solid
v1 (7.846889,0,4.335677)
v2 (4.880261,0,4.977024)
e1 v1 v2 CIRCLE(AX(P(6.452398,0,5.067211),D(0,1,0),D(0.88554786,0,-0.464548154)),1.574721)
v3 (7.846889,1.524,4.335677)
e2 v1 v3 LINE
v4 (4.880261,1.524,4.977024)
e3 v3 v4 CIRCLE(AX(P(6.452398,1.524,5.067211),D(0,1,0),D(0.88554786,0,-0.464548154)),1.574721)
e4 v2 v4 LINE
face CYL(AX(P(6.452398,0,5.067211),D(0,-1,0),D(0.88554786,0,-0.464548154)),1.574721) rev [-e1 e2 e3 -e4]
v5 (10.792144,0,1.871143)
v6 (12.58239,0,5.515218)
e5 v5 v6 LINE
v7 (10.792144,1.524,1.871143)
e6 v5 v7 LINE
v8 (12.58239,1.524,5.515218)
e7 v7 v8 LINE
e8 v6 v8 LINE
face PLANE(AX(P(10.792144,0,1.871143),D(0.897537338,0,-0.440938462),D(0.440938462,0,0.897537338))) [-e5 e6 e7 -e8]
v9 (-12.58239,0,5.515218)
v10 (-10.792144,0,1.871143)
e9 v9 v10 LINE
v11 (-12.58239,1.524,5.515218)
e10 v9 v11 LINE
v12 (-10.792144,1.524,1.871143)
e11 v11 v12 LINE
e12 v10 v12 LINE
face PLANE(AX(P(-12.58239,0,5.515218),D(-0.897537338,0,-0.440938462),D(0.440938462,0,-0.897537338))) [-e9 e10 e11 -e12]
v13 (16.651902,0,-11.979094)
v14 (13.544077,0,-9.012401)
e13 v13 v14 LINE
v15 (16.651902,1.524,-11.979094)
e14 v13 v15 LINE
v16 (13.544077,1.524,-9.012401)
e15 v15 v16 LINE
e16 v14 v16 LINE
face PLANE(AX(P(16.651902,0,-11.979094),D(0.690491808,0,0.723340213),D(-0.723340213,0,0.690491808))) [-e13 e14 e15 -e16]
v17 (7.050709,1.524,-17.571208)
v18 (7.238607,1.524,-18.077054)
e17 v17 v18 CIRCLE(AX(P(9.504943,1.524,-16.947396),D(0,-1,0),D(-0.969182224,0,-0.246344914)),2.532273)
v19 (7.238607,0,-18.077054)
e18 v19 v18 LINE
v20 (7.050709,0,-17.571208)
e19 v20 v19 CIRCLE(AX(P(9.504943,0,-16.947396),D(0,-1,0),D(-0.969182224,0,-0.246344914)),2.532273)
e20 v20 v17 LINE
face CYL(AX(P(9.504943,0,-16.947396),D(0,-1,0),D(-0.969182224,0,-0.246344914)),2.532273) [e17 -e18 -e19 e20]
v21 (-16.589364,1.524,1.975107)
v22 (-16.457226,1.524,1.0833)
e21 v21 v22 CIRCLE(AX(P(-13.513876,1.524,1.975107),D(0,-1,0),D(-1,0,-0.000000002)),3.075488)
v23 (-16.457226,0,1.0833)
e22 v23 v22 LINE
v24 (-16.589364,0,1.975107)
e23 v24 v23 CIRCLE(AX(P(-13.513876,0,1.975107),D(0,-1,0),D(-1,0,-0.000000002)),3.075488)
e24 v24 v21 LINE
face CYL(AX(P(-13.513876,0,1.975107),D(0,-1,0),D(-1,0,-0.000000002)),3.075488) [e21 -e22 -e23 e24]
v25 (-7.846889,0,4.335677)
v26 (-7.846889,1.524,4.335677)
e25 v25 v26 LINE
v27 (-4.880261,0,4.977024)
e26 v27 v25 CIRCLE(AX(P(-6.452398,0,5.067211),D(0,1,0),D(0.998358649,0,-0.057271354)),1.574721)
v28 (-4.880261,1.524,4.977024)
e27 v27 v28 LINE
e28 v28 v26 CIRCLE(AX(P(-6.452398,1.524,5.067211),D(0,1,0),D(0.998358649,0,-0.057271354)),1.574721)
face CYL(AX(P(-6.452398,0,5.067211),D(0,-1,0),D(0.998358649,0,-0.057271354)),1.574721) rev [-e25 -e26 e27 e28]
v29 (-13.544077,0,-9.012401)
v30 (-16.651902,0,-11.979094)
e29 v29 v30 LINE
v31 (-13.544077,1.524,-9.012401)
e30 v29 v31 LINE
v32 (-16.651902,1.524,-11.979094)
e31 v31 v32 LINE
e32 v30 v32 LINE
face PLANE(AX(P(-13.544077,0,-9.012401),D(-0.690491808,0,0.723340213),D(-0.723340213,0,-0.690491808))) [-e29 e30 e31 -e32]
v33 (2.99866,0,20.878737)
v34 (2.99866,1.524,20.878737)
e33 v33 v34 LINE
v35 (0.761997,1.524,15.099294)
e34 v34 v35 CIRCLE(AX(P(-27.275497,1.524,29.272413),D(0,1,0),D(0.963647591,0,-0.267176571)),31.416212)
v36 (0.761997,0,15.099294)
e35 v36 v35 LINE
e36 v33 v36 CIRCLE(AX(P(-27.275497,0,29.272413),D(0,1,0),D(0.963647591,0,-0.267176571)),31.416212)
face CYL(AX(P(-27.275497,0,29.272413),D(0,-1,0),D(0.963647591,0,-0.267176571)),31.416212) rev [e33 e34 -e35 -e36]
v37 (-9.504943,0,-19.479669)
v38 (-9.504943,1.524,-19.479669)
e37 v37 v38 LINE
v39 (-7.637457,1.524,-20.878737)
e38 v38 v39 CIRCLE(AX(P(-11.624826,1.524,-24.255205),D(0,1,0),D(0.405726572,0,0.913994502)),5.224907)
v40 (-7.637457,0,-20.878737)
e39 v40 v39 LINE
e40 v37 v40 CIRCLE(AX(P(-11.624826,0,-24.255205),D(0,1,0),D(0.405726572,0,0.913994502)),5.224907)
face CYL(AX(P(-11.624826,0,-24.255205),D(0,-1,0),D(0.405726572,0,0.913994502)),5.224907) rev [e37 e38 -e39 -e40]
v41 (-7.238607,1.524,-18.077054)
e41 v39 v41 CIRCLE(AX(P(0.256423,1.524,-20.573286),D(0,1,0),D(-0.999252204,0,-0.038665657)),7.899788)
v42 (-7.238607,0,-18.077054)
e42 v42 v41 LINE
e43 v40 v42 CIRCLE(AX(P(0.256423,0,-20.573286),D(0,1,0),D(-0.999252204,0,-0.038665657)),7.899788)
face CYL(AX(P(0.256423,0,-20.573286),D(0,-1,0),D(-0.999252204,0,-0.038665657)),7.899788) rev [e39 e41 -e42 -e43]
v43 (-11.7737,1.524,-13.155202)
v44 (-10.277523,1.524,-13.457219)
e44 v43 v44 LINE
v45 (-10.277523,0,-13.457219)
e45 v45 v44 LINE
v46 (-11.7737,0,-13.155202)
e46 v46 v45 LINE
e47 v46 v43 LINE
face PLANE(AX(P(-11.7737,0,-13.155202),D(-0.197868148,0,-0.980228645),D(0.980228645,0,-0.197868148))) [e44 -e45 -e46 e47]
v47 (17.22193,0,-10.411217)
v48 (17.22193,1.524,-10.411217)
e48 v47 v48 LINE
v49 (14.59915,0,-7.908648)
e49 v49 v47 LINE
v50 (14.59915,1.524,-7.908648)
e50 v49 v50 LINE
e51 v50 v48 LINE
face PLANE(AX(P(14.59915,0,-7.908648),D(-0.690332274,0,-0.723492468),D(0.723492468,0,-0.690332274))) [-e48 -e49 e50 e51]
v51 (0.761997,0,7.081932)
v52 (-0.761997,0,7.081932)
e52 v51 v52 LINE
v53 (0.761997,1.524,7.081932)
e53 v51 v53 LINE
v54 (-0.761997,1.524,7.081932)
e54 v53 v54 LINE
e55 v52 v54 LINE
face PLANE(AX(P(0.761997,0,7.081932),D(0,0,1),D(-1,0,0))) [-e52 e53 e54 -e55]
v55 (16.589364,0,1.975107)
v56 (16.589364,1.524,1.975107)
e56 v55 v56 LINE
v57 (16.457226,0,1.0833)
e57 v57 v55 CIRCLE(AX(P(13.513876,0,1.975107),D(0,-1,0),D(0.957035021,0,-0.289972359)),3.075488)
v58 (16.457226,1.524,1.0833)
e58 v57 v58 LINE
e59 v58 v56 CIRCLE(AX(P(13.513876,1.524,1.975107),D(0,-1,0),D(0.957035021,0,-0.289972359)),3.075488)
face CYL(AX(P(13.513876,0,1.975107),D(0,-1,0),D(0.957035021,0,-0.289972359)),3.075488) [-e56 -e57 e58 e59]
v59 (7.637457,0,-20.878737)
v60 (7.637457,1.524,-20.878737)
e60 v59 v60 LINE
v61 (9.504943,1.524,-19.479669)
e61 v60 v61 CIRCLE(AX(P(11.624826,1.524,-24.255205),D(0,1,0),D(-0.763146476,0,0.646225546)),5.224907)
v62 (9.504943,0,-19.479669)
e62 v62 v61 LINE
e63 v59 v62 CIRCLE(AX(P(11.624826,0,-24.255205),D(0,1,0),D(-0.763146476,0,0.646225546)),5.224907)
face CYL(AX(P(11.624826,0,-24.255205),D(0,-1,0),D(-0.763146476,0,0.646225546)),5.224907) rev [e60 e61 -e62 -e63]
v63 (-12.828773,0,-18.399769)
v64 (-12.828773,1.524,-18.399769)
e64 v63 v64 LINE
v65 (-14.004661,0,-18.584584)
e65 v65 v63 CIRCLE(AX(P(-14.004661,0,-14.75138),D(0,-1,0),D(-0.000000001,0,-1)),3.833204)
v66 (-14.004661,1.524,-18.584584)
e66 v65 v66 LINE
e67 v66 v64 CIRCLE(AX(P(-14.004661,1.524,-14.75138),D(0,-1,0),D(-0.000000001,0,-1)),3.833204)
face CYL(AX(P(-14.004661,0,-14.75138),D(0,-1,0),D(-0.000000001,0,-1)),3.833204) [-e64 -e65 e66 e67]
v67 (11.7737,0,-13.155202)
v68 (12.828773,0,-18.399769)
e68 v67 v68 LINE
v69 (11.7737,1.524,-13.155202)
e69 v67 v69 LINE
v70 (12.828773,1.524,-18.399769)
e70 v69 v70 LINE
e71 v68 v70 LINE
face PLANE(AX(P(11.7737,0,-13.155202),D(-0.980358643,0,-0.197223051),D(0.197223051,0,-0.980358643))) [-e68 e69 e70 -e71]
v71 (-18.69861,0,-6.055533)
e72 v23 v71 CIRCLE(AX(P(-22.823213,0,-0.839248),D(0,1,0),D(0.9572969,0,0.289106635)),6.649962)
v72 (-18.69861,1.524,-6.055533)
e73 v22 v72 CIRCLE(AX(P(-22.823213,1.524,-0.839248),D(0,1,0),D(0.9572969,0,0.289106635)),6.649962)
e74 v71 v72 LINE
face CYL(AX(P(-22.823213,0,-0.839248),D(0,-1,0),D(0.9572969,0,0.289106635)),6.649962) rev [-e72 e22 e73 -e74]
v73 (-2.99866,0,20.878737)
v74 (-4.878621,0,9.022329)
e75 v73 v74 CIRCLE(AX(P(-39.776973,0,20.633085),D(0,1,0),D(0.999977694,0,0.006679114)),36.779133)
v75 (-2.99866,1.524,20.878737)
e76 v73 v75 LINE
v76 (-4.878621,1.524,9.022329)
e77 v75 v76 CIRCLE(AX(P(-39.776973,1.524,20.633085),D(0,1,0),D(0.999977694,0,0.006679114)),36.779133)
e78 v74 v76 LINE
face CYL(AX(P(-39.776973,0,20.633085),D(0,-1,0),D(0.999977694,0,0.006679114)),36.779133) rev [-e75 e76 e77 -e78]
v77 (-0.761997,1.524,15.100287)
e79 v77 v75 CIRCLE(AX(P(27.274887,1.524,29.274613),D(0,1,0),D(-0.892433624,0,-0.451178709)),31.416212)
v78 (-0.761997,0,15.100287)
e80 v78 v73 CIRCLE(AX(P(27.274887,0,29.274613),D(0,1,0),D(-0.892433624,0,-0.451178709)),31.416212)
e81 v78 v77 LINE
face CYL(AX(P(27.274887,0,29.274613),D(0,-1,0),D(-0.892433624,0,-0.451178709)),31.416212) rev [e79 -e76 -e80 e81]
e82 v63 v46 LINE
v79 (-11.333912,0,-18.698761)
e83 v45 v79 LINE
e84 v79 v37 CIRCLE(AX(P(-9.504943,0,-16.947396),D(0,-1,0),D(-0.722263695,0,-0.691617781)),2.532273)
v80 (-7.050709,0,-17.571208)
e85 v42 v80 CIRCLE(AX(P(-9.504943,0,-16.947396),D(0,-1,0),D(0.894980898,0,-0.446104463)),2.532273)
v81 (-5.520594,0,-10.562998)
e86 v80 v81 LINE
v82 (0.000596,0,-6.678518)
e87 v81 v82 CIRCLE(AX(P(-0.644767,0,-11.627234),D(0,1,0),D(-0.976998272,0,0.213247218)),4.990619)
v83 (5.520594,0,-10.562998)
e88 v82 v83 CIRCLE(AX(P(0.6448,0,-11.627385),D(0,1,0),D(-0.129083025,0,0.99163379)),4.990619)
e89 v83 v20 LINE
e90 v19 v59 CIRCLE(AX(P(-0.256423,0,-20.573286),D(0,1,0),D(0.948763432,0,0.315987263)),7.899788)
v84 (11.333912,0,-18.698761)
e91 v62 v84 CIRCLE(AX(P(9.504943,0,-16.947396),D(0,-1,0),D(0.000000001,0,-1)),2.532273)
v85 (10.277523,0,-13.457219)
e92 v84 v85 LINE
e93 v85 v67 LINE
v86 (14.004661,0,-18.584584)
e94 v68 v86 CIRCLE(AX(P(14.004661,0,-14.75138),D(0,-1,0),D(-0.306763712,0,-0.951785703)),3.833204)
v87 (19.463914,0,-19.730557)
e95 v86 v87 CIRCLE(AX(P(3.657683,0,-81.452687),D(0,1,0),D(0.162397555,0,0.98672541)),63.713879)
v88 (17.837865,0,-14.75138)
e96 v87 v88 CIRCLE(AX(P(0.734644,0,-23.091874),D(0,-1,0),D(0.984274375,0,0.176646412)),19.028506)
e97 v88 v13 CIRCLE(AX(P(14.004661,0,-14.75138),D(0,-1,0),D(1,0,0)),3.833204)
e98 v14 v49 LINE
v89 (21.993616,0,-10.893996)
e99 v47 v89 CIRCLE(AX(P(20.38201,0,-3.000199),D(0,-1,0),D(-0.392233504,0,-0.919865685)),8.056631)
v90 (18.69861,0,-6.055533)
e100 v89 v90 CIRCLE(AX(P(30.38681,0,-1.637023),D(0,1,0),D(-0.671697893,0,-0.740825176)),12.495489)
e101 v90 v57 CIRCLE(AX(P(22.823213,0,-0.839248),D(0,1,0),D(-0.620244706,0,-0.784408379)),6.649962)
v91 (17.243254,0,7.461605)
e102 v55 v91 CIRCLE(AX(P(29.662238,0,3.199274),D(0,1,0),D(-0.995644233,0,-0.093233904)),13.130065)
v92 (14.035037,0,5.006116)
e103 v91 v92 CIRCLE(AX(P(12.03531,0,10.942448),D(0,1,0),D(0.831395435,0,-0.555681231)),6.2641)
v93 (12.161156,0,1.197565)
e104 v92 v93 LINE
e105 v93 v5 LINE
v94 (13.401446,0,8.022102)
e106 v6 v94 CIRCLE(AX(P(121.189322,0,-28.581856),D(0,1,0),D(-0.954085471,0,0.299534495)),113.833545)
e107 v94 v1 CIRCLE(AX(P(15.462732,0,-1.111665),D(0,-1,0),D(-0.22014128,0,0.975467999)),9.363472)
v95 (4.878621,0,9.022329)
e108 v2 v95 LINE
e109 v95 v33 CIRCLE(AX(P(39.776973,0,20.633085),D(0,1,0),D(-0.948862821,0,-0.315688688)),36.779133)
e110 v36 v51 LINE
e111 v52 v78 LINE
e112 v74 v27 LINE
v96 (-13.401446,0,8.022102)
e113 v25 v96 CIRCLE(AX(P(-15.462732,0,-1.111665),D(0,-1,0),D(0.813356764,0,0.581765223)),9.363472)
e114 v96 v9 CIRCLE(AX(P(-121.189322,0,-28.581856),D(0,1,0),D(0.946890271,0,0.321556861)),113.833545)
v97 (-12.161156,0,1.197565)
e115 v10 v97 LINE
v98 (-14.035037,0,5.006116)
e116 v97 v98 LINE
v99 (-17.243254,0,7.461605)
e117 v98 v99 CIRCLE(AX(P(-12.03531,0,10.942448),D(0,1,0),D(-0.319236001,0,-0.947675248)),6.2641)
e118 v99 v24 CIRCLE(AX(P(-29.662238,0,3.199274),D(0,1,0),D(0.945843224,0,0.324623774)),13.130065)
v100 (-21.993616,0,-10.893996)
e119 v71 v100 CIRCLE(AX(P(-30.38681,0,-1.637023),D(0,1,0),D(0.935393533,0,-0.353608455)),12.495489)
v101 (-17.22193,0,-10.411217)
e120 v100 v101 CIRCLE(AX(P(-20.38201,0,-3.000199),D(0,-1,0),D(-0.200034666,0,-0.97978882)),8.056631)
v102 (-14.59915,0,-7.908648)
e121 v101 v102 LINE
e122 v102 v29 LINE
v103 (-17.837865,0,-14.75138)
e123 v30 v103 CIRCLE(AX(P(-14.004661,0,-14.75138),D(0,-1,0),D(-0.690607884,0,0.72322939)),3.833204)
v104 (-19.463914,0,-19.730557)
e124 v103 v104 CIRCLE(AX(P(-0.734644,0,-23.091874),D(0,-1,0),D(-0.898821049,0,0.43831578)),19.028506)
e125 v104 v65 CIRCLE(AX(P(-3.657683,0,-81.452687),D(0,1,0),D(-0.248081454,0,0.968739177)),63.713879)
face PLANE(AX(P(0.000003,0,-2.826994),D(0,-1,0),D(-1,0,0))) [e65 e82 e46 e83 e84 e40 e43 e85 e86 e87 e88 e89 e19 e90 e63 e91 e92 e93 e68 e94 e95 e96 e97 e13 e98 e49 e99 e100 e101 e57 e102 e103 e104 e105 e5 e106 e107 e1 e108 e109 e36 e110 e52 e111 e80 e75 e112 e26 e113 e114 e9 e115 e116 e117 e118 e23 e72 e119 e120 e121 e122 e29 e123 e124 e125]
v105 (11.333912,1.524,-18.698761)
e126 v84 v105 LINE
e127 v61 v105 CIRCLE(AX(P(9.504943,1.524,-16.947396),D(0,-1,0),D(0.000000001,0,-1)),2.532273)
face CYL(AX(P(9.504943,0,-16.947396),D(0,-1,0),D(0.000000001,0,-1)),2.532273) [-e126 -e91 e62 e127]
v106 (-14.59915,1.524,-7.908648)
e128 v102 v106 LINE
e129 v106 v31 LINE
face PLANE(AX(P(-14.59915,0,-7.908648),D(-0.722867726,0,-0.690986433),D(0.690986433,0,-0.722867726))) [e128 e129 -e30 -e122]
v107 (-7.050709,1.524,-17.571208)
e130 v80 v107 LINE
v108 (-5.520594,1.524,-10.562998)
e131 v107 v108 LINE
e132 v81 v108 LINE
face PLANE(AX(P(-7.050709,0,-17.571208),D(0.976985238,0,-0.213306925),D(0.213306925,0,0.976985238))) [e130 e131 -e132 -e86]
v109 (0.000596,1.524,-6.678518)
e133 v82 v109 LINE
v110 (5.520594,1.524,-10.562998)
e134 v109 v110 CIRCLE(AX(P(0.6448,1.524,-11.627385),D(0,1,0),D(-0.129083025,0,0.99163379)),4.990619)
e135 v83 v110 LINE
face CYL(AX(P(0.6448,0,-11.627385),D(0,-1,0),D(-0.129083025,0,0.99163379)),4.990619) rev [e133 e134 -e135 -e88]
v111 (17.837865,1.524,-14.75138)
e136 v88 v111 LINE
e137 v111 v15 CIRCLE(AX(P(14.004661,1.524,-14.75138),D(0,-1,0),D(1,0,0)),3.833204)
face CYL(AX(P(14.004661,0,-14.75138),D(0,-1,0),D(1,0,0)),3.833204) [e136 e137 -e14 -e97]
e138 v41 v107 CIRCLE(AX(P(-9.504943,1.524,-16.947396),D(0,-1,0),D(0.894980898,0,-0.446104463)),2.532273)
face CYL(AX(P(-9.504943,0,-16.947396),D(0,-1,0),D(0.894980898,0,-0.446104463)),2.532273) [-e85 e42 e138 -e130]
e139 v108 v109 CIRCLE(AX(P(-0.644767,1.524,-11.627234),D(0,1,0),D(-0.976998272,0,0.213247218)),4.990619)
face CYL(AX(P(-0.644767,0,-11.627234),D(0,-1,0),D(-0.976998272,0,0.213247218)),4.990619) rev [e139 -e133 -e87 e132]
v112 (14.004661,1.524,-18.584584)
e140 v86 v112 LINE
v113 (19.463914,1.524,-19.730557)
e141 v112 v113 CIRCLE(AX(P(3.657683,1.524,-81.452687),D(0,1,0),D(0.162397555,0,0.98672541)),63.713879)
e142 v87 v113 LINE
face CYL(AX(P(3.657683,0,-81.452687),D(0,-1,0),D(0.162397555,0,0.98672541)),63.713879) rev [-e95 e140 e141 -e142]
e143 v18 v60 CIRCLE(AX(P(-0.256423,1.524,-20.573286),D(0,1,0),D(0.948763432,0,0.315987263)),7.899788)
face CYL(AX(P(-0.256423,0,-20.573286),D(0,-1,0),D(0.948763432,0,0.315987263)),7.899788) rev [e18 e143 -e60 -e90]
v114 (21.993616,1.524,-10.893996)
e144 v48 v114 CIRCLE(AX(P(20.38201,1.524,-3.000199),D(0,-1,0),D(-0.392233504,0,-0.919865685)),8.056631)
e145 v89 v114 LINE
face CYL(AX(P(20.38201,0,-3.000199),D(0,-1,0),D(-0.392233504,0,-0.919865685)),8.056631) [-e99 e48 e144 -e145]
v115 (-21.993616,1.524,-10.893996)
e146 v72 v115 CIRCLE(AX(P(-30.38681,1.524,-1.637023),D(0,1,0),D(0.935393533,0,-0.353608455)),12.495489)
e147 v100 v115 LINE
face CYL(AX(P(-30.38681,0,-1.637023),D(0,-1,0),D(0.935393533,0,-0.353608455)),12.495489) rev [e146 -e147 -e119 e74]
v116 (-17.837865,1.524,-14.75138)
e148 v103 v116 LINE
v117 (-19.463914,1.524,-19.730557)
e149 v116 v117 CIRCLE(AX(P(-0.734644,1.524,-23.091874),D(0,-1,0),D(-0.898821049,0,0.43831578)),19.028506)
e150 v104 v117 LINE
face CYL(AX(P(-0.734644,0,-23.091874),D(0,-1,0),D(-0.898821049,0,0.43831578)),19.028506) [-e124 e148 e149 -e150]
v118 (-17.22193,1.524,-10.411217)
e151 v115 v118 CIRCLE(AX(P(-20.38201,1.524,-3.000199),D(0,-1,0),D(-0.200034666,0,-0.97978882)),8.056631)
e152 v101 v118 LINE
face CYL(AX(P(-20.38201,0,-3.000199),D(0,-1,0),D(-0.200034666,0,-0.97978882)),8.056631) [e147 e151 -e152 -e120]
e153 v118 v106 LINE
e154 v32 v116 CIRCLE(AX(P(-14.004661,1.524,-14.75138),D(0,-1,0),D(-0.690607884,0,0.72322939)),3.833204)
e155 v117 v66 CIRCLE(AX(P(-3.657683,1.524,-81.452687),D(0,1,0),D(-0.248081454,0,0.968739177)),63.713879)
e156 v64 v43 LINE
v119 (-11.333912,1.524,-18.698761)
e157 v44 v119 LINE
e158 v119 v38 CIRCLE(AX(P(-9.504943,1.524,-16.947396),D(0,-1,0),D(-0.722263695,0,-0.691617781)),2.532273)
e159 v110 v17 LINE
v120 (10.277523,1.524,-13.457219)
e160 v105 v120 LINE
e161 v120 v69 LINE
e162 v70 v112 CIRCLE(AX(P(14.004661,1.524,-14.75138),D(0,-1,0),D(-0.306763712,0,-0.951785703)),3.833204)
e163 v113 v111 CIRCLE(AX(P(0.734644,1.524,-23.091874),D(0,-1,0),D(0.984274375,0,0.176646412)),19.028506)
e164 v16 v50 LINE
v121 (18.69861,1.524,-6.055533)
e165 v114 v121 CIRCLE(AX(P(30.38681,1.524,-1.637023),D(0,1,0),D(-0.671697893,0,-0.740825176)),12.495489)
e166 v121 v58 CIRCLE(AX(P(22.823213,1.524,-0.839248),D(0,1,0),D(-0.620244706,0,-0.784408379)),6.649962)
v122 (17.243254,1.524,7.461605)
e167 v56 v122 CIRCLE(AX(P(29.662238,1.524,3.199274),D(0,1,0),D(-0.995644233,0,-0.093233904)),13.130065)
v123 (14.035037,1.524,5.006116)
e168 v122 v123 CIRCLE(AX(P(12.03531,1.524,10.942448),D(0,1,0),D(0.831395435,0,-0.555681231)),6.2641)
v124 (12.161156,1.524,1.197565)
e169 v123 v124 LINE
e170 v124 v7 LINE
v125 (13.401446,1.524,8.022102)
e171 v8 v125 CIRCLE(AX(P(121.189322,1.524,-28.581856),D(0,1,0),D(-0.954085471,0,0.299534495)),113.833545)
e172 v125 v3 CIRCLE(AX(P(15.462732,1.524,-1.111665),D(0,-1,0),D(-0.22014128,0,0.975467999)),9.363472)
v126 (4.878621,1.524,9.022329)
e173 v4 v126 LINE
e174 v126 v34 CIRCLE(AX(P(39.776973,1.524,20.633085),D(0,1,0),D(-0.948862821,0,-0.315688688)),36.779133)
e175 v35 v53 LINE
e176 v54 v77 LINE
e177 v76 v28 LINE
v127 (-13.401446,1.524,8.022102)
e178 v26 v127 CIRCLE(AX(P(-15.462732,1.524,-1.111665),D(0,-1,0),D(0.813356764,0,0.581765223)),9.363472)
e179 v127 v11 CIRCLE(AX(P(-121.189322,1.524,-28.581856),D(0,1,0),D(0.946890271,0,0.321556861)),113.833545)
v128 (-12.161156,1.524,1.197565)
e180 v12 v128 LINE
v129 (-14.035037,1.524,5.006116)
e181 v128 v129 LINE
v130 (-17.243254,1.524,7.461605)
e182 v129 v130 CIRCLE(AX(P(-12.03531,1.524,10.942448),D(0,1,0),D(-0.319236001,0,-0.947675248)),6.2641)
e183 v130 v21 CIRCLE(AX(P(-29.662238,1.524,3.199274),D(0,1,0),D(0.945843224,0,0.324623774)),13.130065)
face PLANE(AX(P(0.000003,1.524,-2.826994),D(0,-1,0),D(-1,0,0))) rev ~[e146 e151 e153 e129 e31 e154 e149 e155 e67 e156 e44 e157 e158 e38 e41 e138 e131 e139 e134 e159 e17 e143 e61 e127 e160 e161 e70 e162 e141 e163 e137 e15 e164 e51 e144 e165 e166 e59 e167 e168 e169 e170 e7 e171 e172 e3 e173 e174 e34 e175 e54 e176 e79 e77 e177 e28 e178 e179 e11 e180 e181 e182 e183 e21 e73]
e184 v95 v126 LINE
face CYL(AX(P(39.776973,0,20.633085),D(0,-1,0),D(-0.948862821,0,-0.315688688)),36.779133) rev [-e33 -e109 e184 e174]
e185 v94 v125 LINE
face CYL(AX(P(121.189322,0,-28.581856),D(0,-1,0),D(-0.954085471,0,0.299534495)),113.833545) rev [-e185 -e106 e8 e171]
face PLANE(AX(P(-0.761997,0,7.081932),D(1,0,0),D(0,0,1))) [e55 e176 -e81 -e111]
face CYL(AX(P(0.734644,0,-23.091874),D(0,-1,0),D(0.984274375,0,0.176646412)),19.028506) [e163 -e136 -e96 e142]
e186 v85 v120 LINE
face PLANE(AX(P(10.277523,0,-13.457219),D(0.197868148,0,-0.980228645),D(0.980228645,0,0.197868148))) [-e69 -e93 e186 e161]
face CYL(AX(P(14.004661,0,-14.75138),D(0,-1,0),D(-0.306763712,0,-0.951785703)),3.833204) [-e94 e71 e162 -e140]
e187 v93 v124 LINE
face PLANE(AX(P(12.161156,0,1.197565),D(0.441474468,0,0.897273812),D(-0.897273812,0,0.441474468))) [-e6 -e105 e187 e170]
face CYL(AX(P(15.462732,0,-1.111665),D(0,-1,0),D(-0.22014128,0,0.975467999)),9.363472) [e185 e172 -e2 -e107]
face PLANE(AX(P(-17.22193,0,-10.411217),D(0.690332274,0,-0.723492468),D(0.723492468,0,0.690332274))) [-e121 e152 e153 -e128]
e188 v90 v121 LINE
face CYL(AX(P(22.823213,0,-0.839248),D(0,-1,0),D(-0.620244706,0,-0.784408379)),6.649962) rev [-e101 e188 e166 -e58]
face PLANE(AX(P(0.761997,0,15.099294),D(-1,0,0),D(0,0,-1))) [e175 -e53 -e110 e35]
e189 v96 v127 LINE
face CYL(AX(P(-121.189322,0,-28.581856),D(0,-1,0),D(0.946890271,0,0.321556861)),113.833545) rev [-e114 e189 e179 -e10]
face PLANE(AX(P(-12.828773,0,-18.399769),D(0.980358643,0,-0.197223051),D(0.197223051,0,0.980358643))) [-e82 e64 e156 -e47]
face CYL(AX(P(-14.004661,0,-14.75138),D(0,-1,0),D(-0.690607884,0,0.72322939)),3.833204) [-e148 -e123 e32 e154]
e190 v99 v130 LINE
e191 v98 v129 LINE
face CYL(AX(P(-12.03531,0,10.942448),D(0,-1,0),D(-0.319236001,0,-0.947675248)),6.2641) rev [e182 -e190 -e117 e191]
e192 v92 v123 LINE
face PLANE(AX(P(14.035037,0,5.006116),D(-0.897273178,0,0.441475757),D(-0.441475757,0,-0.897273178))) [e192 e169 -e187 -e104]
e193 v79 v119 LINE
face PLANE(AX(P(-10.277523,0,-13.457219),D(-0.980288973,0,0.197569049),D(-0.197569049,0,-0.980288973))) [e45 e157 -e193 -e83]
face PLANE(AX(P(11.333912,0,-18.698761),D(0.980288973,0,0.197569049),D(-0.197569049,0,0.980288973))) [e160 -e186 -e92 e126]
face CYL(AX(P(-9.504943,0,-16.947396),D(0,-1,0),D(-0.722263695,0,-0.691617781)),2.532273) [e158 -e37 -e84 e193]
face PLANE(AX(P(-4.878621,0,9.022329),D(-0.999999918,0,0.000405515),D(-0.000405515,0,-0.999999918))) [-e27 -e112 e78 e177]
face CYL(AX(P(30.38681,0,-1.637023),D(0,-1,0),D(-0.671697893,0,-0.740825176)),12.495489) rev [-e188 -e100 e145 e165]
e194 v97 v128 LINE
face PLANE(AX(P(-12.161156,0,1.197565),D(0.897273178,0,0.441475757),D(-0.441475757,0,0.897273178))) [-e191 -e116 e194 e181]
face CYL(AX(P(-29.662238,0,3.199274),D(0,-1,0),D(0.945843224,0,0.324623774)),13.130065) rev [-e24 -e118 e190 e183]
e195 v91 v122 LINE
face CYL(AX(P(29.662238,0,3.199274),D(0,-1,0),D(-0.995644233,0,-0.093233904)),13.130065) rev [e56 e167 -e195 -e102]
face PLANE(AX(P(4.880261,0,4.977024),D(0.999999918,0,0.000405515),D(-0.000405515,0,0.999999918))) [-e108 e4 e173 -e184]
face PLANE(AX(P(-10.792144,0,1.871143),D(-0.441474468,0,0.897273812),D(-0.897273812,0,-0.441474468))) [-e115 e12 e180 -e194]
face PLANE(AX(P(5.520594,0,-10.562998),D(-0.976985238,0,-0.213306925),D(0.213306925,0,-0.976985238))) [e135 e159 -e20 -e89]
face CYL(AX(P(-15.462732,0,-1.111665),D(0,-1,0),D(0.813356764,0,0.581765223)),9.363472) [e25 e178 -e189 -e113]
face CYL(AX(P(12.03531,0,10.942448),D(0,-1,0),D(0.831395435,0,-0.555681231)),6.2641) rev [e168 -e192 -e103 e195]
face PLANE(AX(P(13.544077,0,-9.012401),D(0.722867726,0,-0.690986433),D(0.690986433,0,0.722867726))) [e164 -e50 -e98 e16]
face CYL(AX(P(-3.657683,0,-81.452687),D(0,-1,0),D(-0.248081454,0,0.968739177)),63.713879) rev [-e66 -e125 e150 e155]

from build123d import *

# Parameters (mm, degrees)
BOSS_EXTRUDE1_DEPTH = 1.524


with BuildPart() as part:
    # Sketch1 → Boss-Extrude1 (new body)
    with BuildSketch(Plane(origin=(0, 0, 0), x_dir=(1, 0, 0), z_dir=(0, 1, 0))):
        with BuildLine():
            Line((5.520593562, 10.562997869), (7.050708645, 17.571208446))
            ThreePointArc((7.050708645, 17.571208446), (7.131145016, 17.829150642), (7.238606677, 18.077054207))
            ThreePointArc((7.238606677, 18.077054207), (7.564510049, 19.45989002), (7.637457251, 20.878736946))
            ThreePointArc((7.637457251, 20.878736946), (8.492098945, 20.073618252), (9.504942938, 19.47966911))
            ThreePointArc((9.504942938, 19.47966911), (10.499295157, 19.276273595), (11.333912028, 18.698761041))
            Line((11.333912028, 18.698761041), (10.277523058, 13.457219083))
            Line((10.277523058, 13.457219083), (11.773700319, 13.155201971))
            Line((11.773700319, 13.155201971), (12.828772876, 18.399768932))
            ThreePointArc((12.828772876, 18.399768932), (13.409499296, 18.538098505), (14.004660893, 18.584584187))
            ThreePointArc((14.004660893, 18.584584187), (16.746835107, 19.097796263), (19.463914435, 19.730556864))
            ThreePointArc((19.463914435, 19.730556864), (18.823035781, 17.184750652), (17.837865312, 14.751379768))
            ThreePointArc((17.837865312, 14.751379768), (17.528924841, 13.243726046), (16.651902084, 11.979093671))
            Line((16.651902084, 11.979093671), (13.544076564, 9.012401066))
            Line((13.544076564, 9.012401066), (14.59914963, 7.908648182))
            Line((14.59914963, 7.908648182), (17.221929817, 10.411217166))
            ThreePointArc((17.221929817, 10.411217166), (19.571015538, 11.015907736), (21.993615768, 10.893995741))
            ThreePointArc((21.993615768, 10.893995741), (20.058776223, 8.670441452), (18.698609679, 6.055533286))
            ThreePointArc((18.698609679, 6.055533286), (16.478620051, 2.831263642), (16.457225541, -1.083300314))
            ThreePointArc((16.457225541, -1.083300314), (16.55614989, -1.524335384), (16.589363804, -1.975106719))
            ThreePointArc((16.589363804, -1.975106719), (16.624442109, -4.753141238), (17.243254302, -7.461605332))
            ThreePointArc((17.243254302, -7.461605332), (15.84253831, -5.968117791), (14.035036599, -5.006115769))
            Line((14.035036599, -5.006115769), (12.161156101, -1.197565278))
            Line((12.161156101, -1.197565278), (10.792144449, -1.871143044))
            Line((10.792144449, -1.871143044), (12.582390495, -5.515217687))
            ThreePointArc((12.582390495, -5.515217687), (12.984657899, -6.771031753), (13.401445653, -8.022101696))
            ThreePointArc((13.401445653, -8.022101696), (10.284977839, -6.689966631), (7.846889336, -4.335676947))
            ThreePointArc((7.846889336, -4.335676947), (6.119650246, -3.528046665), (4.880261331, -4.977024464))
            Line((4.880261331, -4.977024464), (4.878620901, -9.02232865))
            ThreePointArc((4.878620901, -9.02232865), (3.451641907, -14.873313942), (2.99866015, -20.878736946))
            ThreePointArc((2.99866015, -20.878736946), (2.023183201, -17.933730156), (0.761997186, -15.099293685))
            Line((0.761997186, -15.099293685), (0.761997186, -7.081931903))
            Line((0.761997186, -7.081931903), (-0.761997186, -7.081931903))
            Line((-0.761997186, -7.081931903), (-0.761997186, -15.100287099))
            ThreePointArc((-0.761997186, -15.100287099), (-2.023137189, -17.934235169), (-2.99866015, -20.878736946))
            ThreePointArc((-2.99866015, -20.878736946), (-3.451641907, -14.873313942), (-4.878620901, -9.02232865))
            Line((-4.878620901, -9.02232865), (-4.880261331, -4.977024464))
            ThreePointArc((-4.880261331, -4.977024464), (-6.119650246, -3.528046665), (-7.846889336, -4.335676947))
            ThreePointArc((-7.846889336, -4.335676947), (-10.284977839, -6.689966631), (-13.401445653, -8.022101696))
            ThreePointArc((-13.401445653, -8.022101696), (-12.984657899, -6.771031753), (-12.582390495, -5.515217687))
            Line((-12.582390495, -5.515217687), (-10.792144449, -1.871143044))
            Line((-10.792144449, -1.871143044), (-12.161156101, -1.197565278))
            Line((-12.161156101, -1.197565278), (-14.035036599, -5.006115769))
            ThreePointArc((-14.035036599, -5.006115769), (-15.84253831, -5.968117791), (-17.243254302, -7.461605332))
            ThreePointArc((-17.243254302, -7.461605332), (-16.624442109, -4.753141238), (-16.589363804, -1.975106719))
            ThreePointArc((-16.589363804, -1.975106719), (-16.55614989, -1.524335384), (-16.457225541, -1.083300314))
            ThreePointArc((-16.457225541, -1.083300314), (-16.478620051, 2.831263642), (-18.698609679, 6.055533286))
            ThreePointArc((-18.698609679, 6.055533286), (-20.058776223, 8.670441452), (-21.993615768, 10.893995741))
            ThreePointArc((-21.993615768, 10.893995741), (-19.571015538, 11.015907736), (-17.221929817, 10.411217166))
            Line((-17.221929817, 10.411217166), (-14.59914963, 7.908648182))
            Line((-14.59914963, 7.908648182), (-13.544076564, 9.012401066))
            Line((-13.544076564, 9.012401066), (-16.651902084, 11.979093671))
            ThreePointArc((-16.651902084, 11.979093671), (-17.528924841, 13.243726046), (-17.837865312, 14.751379768))
            ThreePointArc((-17.837865312, 14.751379768), (-18.823035781, 17.184750652), (-19.463914435, 19.730556864))
            ThreePointArc((-19.463914435, 19.730556864), (-16.746835107, 19.097796263), (-14.004660893, 18.584584187))
            ThreePointArc((-14.004660893, 18.584584187), (-13.409499296, 18.538098505), (-12.828772876, 18.399768932))
            Line((-12.828772876, 18.399768932), (-11.773700319, 13.155201971))
            Line((-11.773700319, 13.155201971), (-10.277523058, 13.457219083))
            Line((-10.277523058, 13.457219083), (-11.333912028, 18.698761041))
            ThreePointArc((-11.333912028, 18.698761041), (-10.499295157, 19.276273595), (-9.504942938, 19.47966911))
            ThreePointArc((-9.504942938, 19.47966911), (-8.492098945, 20.073618252), (-7.637457251, 20.878736946))
            ThreePointArc((-7.637457251, 20.878736946), (-7.564510049, 19.45989002), (-7.238606677, 18.077054207))
            ThreePointArc((-7.238606677, 18.077054207), (-7.131145016, 17.829150642), (-7.050708645, 17.571208446))
            Line((-7.050708645, 17.571208446), (-5.520593562, 10.562997869))
            ThreePointArc((-5.520593562, 10.562997869), (-3.516439493, 7.545594261), (0.000595641, 6.678517605))
            ThreePointArc((0.000595641, 6.678517605), (3.516886937, 7.546036839), (5.520593562, 10.562997869))
        make_face()
    extrude(amount=BOSS_EXTRUDE1_DEPTH)


solid = part.part
